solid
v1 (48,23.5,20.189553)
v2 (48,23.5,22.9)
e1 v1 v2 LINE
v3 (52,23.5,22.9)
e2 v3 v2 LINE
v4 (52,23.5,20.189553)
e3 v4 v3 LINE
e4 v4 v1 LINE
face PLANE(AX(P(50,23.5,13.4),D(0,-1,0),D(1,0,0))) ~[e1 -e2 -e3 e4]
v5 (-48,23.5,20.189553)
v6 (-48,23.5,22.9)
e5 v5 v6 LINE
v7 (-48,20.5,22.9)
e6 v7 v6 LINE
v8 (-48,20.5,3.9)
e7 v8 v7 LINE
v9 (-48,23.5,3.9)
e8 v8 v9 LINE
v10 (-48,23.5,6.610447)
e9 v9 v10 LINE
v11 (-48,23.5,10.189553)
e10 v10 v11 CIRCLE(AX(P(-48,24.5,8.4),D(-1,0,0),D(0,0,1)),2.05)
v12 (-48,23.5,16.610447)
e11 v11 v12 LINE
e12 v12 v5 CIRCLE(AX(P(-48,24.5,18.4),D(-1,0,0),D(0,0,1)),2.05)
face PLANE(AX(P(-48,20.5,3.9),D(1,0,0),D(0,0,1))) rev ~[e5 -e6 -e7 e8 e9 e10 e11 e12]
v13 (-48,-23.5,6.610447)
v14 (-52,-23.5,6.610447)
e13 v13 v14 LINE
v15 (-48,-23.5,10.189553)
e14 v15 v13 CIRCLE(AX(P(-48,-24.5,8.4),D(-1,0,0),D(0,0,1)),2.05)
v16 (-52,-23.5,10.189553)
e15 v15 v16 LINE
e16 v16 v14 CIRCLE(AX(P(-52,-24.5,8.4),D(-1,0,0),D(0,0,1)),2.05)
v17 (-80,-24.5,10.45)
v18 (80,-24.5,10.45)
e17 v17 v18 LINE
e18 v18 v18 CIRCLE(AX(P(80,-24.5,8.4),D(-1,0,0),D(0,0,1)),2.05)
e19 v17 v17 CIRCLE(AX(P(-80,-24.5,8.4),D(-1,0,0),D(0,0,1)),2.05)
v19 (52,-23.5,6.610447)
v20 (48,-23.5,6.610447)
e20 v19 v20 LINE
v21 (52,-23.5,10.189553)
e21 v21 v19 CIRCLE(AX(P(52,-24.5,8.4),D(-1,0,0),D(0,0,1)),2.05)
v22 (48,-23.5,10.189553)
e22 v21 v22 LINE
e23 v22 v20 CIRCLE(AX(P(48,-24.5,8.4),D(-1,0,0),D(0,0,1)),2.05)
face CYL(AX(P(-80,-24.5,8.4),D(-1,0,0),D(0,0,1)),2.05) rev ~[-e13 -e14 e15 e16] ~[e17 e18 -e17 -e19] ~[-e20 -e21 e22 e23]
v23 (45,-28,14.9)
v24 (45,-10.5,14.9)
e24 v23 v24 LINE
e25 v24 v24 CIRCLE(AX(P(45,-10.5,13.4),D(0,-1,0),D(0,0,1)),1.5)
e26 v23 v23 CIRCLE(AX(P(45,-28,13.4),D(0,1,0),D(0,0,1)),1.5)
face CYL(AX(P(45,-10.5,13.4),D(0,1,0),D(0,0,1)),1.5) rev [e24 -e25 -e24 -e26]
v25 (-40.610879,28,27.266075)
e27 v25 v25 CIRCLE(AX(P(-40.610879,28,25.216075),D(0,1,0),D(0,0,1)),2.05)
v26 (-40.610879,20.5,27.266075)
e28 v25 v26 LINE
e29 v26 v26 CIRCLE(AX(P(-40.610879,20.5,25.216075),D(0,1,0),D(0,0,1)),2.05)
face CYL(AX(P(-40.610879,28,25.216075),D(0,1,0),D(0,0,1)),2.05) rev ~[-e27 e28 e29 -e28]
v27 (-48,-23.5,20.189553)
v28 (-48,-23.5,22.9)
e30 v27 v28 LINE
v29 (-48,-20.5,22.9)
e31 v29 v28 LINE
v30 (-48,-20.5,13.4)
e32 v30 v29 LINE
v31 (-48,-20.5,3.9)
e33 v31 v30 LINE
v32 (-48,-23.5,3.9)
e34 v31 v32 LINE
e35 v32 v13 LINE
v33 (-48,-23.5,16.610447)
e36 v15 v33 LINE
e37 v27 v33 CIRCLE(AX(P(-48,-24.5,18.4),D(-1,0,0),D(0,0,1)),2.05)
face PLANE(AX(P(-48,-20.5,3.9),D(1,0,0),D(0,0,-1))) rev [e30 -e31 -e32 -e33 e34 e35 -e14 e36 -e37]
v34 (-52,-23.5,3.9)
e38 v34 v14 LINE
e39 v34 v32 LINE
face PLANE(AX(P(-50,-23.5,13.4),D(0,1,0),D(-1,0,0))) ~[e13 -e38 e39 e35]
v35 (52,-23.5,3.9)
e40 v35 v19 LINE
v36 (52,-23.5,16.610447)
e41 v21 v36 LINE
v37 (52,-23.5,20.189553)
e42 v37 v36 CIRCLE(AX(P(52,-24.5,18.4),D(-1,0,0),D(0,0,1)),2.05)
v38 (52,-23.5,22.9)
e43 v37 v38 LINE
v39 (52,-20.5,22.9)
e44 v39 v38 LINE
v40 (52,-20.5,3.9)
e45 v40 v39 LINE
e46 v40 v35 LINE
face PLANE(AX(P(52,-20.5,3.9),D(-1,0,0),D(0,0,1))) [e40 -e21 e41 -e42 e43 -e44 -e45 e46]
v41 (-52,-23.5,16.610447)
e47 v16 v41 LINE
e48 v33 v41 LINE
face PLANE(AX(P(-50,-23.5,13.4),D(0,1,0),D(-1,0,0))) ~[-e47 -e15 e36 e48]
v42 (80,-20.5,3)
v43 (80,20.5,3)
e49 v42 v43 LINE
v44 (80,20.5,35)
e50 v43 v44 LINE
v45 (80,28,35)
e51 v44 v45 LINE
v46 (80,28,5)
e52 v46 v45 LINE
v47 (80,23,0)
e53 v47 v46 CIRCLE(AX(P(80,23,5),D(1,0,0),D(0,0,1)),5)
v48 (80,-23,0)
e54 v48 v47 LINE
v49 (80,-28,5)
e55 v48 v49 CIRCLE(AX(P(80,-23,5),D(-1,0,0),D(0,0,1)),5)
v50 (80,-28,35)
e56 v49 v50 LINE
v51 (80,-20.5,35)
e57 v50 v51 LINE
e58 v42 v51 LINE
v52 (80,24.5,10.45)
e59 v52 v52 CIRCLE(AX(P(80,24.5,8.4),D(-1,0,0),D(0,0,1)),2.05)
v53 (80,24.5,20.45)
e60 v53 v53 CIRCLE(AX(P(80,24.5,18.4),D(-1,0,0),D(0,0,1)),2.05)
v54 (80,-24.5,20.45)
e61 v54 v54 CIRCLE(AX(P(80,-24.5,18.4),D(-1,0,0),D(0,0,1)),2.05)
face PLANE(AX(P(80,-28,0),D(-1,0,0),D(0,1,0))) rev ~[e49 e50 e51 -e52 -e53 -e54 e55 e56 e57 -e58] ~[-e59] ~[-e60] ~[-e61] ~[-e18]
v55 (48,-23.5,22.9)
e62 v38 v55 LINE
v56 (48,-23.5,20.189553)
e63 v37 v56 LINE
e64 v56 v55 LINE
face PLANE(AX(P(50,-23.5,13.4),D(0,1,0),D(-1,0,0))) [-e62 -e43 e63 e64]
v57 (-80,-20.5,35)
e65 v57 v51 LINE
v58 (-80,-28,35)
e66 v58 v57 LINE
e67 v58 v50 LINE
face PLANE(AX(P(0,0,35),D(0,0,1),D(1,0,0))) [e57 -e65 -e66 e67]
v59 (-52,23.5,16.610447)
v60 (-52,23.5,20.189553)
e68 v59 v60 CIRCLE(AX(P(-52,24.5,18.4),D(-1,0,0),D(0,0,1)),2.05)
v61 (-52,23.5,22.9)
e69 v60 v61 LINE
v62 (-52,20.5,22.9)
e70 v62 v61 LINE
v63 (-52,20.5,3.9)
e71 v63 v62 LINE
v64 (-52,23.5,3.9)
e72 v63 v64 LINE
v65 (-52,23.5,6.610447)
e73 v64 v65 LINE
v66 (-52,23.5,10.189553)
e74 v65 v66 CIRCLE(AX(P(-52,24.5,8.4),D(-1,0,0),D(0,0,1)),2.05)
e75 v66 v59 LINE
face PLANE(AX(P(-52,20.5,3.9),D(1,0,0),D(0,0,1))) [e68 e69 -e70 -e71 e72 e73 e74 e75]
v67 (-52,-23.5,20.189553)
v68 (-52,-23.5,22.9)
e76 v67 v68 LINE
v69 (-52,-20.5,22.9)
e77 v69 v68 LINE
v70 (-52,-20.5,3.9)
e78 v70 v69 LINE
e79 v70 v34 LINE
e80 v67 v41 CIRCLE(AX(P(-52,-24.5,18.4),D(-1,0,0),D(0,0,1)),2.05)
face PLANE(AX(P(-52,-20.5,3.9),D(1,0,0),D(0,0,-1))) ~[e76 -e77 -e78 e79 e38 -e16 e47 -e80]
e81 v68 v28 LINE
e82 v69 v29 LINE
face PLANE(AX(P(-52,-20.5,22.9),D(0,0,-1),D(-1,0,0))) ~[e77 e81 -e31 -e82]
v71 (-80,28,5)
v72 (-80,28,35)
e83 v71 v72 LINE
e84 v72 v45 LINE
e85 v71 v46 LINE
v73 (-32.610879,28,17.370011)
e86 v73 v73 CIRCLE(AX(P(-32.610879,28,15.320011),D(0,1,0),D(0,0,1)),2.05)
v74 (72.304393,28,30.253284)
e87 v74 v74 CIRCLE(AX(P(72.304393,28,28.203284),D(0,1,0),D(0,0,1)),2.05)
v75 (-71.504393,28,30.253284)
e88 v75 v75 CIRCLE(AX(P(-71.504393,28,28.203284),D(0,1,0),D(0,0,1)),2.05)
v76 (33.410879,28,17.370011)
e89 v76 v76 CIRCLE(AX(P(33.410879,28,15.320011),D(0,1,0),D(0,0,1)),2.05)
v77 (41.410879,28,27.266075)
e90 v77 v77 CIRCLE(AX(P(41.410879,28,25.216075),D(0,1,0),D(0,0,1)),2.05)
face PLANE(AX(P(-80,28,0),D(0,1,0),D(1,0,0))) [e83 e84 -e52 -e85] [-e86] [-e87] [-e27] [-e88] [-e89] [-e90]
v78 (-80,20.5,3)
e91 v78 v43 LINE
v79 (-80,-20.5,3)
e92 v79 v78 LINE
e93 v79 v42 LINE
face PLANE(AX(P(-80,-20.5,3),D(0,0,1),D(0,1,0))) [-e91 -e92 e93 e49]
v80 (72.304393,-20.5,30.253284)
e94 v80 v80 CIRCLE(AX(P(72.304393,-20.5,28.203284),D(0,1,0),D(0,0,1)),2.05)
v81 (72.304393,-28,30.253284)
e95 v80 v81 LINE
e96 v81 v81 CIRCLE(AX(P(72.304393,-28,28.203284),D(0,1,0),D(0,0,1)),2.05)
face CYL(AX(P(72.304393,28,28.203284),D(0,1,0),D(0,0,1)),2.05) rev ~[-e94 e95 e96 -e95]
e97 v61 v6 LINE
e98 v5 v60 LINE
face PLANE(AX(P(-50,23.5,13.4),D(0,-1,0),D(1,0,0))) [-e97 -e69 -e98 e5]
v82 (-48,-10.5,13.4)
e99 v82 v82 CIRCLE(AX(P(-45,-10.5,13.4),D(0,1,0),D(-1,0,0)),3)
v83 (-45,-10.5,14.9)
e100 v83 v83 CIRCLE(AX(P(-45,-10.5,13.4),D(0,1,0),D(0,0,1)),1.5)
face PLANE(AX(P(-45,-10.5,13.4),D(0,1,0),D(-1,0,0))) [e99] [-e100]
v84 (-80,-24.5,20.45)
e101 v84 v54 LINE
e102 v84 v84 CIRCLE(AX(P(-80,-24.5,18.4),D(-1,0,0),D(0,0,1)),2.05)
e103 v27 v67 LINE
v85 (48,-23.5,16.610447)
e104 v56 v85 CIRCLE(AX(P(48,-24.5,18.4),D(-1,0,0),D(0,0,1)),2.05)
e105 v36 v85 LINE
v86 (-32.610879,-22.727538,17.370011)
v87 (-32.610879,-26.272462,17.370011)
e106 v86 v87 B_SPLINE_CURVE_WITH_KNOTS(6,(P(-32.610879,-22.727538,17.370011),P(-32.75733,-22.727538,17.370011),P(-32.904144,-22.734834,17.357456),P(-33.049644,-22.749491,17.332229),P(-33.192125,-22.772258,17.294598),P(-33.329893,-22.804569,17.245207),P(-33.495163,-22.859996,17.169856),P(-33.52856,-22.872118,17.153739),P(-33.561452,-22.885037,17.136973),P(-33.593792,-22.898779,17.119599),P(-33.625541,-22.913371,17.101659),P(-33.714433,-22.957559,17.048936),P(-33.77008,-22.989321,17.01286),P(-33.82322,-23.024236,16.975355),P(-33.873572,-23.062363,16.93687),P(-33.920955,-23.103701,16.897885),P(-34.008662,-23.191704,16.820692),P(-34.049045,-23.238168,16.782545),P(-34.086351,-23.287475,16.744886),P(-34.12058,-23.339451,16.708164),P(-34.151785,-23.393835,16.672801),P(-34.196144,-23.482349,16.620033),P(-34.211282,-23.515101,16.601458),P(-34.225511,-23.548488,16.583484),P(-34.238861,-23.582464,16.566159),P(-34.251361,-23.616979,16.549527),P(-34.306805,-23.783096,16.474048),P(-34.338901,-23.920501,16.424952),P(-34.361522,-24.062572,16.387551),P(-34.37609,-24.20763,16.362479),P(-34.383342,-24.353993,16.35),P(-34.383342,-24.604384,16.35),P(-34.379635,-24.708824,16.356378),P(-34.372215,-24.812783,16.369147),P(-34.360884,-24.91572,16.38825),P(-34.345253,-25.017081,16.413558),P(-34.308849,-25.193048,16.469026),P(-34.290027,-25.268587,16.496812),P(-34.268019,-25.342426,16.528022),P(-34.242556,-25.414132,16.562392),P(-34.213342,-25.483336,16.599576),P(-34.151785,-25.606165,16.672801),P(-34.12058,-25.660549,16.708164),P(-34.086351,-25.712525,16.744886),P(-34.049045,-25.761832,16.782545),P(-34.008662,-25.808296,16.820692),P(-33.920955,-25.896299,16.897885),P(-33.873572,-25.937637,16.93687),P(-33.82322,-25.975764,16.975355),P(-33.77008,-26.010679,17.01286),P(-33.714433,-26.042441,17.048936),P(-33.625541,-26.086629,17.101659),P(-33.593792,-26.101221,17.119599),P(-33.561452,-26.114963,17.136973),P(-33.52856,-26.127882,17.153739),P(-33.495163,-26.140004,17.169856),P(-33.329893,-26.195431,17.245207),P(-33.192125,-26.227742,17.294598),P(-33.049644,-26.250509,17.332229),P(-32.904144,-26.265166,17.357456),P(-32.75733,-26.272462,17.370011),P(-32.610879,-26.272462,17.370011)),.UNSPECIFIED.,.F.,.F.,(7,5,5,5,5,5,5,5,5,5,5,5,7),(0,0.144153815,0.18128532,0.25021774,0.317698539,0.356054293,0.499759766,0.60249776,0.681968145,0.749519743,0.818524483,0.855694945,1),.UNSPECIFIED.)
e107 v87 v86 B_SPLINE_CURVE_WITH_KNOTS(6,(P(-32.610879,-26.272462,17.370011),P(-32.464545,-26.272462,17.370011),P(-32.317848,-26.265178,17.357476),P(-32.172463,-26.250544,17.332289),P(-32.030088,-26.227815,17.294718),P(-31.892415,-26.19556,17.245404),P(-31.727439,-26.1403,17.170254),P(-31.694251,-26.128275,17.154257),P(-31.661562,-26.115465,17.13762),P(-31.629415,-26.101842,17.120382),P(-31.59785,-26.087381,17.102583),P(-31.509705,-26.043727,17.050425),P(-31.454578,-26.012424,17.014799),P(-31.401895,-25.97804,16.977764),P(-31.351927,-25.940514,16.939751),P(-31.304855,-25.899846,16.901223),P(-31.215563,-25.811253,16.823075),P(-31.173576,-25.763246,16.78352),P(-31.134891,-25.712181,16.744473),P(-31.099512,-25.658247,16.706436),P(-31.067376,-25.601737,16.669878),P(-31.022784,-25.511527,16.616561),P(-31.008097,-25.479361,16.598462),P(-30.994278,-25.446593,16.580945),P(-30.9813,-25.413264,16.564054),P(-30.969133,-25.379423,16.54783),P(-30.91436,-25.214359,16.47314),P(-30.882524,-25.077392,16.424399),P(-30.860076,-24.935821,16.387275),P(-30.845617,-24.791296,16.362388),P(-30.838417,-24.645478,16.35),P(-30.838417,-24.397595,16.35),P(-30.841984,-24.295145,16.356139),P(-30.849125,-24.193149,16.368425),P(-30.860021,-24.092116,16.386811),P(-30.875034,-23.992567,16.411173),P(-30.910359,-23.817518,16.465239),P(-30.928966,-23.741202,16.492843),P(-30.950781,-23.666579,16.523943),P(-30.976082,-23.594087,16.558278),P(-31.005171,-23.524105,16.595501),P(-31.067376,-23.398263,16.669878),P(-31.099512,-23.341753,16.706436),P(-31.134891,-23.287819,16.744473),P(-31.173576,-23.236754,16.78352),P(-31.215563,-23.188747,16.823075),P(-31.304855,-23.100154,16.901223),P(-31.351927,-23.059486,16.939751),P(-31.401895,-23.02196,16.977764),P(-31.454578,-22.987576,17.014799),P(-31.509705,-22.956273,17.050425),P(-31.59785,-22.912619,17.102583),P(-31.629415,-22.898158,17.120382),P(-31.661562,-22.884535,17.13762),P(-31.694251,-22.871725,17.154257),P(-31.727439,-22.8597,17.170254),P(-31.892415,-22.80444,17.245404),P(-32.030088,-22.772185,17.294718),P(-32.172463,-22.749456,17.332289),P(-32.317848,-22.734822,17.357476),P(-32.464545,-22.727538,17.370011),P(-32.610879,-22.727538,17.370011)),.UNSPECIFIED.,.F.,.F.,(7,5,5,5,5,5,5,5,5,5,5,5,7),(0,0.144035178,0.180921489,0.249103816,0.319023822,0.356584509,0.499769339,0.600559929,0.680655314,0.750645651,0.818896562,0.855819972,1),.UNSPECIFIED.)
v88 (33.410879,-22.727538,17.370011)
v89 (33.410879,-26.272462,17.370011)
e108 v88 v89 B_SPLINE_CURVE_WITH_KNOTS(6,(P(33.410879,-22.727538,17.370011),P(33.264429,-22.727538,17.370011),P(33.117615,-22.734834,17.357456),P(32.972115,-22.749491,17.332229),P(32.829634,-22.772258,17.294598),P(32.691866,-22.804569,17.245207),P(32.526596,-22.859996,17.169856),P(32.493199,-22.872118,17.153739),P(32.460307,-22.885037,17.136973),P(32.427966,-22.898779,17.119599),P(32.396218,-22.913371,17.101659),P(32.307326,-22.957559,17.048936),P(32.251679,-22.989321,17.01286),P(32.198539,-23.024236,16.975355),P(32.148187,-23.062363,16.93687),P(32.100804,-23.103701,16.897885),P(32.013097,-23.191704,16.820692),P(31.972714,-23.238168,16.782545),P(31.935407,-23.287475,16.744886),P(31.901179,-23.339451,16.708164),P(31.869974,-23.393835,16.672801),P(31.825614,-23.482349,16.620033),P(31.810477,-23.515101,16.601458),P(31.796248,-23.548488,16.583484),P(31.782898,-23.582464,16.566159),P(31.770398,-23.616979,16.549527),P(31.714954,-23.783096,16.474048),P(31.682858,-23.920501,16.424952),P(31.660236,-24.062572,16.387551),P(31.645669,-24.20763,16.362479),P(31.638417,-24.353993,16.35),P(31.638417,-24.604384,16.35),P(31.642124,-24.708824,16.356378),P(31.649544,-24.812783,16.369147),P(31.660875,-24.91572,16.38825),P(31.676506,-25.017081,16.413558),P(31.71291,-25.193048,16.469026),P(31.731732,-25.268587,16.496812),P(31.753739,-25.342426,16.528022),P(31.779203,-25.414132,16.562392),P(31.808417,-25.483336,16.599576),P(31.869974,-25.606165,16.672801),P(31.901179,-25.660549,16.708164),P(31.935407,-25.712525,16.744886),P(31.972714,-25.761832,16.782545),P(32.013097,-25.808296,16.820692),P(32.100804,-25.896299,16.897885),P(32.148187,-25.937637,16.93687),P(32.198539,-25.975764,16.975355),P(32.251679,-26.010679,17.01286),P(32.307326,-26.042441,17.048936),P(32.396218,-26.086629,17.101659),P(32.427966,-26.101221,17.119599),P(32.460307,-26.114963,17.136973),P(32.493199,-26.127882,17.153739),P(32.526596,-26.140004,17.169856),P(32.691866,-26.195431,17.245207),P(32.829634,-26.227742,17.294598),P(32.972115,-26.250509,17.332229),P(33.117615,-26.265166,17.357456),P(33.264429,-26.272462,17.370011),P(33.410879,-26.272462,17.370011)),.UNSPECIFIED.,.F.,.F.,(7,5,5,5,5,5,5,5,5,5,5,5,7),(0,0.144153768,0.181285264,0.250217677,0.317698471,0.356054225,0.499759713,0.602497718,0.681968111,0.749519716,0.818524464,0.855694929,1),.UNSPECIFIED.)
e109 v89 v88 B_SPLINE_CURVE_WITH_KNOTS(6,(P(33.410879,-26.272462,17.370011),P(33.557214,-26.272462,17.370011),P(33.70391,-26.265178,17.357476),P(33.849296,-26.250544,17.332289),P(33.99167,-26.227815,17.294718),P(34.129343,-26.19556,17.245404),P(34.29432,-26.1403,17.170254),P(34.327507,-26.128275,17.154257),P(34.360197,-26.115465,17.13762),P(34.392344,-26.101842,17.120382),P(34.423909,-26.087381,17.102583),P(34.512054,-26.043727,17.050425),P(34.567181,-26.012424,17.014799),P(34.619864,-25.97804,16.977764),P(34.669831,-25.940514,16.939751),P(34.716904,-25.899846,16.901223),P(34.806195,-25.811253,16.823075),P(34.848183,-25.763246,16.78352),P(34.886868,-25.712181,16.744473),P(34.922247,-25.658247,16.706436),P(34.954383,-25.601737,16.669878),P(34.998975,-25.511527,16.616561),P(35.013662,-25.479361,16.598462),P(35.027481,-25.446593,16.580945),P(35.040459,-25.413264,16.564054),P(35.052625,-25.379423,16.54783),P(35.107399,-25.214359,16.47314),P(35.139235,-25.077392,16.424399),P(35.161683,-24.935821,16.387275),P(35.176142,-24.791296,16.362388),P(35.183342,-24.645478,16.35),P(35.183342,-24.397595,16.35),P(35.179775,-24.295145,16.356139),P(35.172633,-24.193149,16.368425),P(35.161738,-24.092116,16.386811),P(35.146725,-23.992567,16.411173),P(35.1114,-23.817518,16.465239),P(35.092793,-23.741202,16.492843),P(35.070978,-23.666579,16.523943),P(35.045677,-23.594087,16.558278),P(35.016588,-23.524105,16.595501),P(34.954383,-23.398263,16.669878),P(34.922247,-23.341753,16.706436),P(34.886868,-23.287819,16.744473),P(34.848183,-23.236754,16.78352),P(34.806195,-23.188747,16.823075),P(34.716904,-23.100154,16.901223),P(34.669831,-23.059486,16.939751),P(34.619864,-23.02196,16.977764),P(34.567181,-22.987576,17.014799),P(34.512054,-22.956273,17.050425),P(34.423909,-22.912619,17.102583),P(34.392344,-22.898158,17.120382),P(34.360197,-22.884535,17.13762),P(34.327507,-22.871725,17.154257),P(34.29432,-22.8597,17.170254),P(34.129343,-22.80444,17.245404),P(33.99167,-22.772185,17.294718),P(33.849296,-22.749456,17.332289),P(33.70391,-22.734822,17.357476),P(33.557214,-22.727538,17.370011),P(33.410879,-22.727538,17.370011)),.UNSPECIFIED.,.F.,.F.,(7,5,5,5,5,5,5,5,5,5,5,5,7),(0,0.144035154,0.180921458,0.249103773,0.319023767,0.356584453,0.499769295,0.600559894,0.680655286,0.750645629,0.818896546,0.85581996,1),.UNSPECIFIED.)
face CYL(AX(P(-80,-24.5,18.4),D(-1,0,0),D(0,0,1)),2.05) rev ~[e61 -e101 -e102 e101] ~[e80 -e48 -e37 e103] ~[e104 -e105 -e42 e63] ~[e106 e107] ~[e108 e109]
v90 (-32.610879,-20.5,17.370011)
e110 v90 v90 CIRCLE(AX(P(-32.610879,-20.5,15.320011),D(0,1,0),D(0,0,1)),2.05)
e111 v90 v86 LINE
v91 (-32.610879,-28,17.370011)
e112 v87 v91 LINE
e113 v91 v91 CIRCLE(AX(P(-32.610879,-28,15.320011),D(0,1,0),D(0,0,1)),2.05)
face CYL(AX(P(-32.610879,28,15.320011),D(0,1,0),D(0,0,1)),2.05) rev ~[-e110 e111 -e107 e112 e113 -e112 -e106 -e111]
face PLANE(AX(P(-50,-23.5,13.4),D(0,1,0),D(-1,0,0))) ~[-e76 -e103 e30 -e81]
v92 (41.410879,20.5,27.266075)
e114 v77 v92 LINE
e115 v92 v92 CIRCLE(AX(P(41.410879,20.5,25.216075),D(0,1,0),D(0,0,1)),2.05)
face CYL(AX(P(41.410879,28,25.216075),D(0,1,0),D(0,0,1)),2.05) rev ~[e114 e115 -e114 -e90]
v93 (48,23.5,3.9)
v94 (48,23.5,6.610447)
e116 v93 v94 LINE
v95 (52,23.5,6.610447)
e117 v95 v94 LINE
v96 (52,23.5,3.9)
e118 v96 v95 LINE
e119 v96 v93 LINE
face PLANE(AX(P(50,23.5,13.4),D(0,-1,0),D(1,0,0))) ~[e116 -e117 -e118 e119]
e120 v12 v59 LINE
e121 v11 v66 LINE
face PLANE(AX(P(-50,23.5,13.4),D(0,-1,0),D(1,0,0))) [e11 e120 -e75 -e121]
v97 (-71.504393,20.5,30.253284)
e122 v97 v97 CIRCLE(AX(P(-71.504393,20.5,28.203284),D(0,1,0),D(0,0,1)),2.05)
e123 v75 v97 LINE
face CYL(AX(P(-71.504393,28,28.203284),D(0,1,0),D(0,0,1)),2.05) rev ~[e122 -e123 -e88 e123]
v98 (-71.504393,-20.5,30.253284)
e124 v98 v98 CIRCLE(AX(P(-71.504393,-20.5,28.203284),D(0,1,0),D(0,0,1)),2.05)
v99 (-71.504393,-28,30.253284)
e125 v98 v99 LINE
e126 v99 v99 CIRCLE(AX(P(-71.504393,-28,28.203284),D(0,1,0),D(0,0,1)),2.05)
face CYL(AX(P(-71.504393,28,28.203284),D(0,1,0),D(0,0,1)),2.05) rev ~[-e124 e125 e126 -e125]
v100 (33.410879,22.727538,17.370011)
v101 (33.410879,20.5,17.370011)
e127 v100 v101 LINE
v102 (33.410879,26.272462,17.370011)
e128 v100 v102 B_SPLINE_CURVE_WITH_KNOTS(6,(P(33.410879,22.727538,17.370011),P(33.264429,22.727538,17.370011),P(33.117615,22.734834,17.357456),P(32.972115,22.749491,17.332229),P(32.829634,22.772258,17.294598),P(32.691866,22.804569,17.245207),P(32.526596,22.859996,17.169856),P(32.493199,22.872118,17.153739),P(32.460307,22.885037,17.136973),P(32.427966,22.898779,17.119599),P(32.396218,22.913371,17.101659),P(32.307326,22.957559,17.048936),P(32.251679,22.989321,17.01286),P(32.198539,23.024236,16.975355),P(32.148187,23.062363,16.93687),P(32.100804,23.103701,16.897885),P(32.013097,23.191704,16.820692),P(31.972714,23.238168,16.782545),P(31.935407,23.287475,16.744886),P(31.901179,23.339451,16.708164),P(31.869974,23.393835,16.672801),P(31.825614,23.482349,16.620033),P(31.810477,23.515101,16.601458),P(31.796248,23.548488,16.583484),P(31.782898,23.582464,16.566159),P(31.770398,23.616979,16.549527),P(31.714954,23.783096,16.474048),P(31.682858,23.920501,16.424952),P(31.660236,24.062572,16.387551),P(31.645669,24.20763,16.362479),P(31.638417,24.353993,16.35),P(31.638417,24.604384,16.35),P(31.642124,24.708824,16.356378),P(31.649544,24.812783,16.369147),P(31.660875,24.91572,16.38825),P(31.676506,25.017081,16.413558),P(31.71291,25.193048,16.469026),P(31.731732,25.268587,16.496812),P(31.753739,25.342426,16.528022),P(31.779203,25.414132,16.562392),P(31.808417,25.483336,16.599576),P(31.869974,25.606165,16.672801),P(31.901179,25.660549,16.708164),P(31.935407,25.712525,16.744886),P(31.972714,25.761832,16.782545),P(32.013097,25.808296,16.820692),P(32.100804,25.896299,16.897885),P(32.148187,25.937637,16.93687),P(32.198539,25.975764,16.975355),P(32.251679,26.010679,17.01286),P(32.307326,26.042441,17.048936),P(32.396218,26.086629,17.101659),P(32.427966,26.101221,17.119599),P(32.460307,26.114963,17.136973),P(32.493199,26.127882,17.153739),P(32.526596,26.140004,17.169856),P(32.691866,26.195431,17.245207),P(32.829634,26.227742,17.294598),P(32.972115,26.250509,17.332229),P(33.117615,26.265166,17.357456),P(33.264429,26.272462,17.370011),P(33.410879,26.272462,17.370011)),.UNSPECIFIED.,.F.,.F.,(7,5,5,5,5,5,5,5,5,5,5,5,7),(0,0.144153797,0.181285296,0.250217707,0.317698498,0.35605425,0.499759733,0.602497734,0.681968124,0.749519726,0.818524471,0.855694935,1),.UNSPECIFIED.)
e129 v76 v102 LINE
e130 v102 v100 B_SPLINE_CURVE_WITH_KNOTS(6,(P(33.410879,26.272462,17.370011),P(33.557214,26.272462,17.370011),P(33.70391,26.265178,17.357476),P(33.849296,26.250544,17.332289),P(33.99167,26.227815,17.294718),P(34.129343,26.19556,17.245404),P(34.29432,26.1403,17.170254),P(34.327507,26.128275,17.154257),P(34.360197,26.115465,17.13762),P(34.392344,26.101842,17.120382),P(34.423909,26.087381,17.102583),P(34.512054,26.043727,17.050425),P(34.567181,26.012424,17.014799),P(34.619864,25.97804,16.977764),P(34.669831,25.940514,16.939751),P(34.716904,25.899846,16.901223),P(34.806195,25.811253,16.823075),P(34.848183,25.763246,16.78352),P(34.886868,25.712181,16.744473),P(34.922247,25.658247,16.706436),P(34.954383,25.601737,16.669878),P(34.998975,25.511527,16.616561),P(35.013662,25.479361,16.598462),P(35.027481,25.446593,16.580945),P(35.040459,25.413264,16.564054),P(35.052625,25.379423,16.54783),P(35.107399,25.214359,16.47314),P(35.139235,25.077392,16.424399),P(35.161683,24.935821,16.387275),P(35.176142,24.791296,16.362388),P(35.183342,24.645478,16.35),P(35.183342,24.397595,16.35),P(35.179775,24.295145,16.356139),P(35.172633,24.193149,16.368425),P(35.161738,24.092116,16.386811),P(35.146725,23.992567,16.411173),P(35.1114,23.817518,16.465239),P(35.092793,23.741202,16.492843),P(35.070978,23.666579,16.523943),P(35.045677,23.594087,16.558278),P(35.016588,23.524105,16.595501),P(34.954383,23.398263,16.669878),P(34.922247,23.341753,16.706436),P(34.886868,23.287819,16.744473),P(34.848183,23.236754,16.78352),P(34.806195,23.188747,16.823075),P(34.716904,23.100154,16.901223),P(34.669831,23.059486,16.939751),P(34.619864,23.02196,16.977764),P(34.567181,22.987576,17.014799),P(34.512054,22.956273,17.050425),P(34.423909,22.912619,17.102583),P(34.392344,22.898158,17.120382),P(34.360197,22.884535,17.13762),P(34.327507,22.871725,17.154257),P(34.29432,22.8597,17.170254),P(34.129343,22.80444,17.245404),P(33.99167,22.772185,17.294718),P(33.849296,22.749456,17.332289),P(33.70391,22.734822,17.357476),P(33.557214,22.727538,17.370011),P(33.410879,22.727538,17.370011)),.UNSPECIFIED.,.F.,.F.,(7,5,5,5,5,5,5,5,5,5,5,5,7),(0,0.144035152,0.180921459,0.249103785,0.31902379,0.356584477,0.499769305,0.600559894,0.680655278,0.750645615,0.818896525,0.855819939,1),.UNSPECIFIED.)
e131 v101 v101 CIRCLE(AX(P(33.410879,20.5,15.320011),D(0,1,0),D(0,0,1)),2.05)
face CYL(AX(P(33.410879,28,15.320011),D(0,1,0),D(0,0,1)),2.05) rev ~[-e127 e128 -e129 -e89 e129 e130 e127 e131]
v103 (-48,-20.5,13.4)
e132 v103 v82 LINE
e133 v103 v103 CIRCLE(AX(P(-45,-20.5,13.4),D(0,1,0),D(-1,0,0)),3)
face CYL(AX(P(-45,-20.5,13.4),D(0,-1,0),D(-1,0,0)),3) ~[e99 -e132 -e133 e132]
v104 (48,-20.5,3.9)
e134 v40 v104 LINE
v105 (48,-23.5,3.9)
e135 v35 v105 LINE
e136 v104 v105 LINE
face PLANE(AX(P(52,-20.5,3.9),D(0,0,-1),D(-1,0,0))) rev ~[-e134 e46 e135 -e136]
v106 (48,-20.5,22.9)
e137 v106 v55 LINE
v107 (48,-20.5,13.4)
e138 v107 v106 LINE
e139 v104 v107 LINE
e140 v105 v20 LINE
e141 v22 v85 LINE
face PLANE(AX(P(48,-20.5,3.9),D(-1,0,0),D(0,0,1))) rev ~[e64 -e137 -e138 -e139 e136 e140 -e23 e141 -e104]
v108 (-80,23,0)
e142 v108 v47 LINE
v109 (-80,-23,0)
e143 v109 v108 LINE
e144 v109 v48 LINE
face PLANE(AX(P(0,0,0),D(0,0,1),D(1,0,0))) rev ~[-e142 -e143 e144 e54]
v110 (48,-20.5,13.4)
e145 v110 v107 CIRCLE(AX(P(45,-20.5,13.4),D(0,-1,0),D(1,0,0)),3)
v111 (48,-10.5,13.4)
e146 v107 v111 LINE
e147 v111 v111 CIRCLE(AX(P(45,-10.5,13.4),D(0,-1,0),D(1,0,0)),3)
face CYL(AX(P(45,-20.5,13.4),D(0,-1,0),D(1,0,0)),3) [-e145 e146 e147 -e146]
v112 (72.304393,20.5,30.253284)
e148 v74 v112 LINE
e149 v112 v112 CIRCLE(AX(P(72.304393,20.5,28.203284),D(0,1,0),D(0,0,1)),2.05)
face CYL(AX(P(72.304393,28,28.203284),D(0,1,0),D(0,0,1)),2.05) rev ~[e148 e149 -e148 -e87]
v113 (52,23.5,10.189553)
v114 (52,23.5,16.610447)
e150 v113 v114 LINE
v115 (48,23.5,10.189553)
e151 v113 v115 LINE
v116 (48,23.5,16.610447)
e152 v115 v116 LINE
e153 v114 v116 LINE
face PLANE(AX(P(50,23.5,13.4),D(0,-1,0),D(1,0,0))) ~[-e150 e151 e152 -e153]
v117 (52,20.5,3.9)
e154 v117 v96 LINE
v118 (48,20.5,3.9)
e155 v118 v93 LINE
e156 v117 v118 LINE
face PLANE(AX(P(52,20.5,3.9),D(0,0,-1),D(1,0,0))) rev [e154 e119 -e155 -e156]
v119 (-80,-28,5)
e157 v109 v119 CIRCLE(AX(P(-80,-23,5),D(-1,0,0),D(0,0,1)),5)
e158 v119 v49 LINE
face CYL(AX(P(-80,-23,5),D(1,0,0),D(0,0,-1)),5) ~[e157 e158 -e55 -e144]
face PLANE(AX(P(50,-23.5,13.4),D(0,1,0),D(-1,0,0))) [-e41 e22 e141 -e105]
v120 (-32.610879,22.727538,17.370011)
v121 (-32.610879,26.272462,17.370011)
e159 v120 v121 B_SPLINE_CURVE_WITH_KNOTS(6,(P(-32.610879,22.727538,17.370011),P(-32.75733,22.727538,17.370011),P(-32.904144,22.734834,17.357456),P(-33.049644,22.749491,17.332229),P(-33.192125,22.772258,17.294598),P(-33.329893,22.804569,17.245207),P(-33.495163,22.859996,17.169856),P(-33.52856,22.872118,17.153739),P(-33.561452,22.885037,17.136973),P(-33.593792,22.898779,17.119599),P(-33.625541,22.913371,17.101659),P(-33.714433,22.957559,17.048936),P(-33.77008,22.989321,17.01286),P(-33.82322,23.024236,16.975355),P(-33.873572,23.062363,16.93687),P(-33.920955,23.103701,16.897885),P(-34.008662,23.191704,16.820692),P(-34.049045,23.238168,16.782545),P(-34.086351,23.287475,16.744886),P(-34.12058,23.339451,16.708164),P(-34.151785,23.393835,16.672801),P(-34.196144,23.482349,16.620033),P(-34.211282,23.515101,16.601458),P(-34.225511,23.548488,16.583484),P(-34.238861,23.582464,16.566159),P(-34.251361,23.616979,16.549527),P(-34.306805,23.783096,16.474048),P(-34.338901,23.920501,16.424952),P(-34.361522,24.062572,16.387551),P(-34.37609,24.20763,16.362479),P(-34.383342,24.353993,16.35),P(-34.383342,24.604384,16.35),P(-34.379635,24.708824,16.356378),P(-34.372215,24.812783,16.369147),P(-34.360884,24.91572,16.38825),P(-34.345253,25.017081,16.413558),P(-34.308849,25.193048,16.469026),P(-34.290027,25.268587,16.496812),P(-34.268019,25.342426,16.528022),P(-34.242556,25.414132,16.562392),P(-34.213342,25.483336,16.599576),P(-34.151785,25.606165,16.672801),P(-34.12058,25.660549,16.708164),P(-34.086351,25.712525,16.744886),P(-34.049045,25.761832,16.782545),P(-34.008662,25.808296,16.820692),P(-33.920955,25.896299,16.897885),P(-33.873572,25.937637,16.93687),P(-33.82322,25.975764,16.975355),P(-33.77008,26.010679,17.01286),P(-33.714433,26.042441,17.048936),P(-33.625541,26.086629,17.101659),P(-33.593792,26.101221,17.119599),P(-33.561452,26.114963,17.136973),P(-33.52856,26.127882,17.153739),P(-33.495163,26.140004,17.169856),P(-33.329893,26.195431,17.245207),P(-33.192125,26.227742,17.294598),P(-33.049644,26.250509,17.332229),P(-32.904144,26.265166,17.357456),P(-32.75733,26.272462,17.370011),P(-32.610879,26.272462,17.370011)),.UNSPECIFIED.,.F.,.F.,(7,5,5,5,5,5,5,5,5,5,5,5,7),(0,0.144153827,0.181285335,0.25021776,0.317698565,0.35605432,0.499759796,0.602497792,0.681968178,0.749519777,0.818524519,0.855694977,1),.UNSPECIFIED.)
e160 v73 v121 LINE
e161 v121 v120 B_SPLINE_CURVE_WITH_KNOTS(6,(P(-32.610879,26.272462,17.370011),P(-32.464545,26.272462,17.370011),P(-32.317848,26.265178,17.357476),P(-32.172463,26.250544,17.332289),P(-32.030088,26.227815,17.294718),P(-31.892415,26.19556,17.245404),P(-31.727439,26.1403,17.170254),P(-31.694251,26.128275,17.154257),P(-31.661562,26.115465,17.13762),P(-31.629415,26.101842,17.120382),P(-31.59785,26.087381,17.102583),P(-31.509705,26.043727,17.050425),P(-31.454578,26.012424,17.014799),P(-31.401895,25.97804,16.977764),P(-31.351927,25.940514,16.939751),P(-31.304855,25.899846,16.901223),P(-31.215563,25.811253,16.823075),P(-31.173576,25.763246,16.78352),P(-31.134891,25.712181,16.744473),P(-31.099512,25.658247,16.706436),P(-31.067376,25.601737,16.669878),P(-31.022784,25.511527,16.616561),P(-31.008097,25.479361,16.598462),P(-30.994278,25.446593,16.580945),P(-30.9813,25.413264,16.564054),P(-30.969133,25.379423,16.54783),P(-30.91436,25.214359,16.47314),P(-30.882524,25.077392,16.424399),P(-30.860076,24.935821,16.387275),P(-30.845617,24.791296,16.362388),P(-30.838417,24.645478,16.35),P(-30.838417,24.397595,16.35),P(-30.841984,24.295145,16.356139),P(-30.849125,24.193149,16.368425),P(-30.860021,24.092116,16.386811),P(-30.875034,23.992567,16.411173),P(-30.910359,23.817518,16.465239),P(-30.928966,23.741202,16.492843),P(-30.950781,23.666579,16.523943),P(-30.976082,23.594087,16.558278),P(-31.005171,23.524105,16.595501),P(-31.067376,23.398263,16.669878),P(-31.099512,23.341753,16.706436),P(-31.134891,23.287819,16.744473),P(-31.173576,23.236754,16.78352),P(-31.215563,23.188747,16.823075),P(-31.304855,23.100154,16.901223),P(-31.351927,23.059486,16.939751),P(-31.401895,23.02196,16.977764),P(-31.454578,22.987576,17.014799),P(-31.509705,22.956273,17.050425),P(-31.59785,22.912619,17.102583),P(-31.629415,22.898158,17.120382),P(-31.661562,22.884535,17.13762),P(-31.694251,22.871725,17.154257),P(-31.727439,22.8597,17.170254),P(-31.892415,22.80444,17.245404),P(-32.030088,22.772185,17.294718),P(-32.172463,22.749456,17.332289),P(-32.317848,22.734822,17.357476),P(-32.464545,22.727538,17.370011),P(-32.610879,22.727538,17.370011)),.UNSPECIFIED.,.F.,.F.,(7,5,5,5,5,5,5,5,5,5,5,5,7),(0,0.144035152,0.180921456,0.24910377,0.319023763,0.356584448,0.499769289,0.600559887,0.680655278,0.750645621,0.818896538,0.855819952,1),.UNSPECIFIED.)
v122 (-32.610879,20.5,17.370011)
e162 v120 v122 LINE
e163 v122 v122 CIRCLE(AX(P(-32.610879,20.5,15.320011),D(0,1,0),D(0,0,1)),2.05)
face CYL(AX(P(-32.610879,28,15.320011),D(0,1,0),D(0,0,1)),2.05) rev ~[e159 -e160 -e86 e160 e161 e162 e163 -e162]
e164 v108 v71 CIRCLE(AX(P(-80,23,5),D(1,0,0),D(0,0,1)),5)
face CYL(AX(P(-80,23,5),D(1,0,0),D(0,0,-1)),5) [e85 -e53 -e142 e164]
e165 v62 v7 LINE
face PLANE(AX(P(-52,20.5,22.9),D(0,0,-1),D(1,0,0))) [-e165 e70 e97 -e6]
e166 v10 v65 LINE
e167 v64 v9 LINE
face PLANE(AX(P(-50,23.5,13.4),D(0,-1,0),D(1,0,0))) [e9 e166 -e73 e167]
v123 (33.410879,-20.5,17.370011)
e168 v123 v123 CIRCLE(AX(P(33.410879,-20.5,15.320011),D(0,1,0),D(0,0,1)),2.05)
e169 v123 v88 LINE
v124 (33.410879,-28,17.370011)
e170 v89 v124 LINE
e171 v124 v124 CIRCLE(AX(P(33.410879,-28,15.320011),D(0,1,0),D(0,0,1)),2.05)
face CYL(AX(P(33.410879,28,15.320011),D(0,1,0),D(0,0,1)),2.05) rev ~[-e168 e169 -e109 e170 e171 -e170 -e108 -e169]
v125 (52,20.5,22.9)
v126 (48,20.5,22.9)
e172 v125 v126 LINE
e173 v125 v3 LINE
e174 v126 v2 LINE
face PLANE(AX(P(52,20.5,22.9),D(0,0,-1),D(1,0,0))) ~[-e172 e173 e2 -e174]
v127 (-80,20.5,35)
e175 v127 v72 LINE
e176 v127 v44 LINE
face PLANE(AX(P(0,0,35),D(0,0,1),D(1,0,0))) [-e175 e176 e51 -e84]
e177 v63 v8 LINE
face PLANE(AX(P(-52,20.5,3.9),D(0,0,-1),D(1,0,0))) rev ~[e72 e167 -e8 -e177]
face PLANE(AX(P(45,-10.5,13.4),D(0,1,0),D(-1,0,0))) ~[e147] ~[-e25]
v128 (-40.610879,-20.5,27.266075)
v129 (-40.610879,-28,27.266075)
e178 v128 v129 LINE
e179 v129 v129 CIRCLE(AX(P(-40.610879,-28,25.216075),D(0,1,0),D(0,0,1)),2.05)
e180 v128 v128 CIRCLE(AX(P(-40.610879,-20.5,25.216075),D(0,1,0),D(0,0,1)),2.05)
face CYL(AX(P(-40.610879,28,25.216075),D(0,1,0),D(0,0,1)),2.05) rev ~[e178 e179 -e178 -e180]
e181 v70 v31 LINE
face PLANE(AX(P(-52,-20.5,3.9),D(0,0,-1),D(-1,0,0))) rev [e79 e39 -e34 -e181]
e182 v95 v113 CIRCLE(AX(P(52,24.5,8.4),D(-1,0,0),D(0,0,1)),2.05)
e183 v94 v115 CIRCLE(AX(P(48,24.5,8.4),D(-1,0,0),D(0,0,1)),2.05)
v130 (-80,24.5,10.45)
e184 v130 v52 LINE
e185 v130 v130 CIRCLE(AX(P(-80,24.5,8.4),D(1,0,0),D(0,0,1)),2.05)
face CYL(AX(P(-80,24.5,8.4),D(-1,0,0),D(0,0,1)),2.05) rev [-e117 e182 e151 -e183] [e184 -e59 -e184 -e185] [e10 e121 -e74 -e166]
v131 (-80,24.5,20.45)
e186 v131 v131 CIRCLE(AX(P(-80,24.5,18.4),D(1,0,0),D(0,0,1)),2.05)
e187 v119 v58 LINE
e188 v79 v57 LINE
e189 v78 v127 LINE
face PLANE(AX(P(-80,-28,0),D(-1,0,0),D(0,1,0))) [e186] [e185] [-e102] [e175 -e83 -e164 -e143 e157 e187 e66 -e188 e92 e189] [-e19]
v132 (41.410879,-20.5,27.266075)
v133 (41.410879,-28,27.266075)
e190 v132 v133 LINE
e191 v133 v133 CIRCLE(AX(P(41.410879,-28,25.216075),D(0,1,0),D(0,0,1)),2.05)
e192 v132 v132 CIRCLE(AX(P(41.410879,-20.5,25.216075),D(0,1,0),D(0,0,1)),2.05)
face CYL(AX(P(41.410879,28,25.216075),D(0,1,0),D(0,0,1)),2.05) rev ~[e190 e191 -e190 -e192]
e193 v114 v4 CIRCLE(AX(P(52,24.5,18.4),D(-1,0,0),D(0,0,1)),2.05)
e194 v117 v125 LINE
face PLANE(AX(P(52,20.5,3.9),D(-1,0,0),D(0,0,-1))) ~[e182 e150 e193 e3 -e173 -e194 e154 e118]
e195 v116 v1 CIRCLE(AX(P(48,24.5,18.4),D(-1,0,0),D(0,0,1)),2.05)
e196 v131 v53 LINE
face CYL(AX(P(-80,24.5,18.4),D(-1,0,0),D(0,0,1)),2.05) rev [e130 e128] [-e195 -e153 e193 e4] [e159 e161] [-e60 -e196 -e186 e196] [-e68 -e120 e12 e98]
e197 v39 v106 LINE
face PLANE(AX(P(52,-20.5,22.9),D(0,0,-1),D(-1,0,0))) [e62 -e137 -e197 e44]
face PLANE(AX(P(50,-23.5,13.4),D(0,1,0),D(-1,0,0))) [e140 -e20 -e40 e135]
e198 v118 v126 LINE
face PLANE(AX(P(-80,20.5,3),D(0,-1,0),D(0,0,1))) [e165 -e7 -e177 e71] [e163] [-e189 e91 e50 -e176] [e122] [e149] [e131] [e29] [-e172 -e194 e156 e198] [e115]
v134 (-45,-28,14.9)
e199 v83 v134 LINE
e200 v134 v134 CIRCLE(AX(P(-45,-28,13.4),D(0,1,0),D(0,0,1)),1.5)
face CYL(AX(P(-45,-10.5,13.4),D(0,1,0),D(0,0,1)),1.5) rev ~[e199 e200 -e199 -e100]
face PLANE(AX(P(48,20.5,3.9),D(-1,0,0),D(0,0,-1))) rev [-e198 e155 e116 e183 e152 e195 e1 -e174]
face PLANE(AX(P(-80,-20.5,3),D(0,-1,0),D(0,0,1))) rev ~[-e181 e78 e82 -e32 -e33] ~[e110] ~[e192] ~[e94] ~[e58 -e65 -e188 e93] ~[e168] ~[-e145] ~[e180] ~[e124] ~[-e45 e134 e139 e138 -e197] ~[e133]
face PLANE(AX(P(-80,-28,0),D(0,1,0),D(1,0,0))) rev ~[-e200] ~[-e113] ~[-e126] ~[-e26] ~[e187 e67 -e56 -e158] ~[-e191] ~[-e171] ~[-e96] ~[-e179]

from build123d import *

# Parameters (mm, degrees)
SKETCH1_W               = 160
SKETCH1_H               = 56
BOSS_EXTRUDE1_DEPTH     = 35
SKETCH2_W               = 32
SKETCH2_H               = 41
CUT_EXTRUDE1_DEPTH      = 167.159561868
FILLET1_R               = 5
SKETCH6_W               = 4
SKETCH6_H               = 19
CUT_EXTRUDE4_DEPTH      = 3
MIRROR4_COPY_1_SKETCH_W = 4
MIRROR4_COPY_1_SKETCH_H = 19
MIRROR4_COPY_1_DEPTH    = 3
SKETCH8_R               = 2.05
CUT_EXTRUDE6_DEPTH      = 167.159561868
SKETCH9_R               = 2.05
CUT_EXTRUDE7_DEPTH      = 104.735239914
SKETCH10_R              = 3
SKETCH10_R_2            = 1.5
BOSS_EXTRUDE3_DEPTH     = 10
SKETCH13_R              = 1.5
CUT_EXTRUDE9_DEPTH      = 96.431913025


with BuildPart() as part:
    # Sketch1 → Boss-Extrude1 (new body)
    with BuildSketch(Plane.XY):
        Rectangle(SKETCH1_W, SKETCH1_H)
    extrude(amount=BOSS_EXTRUDE1_DEPTH)

    # Sketch2 → Cut-Extrude1 (cut, through all)
    with BuildSketch(Plane.ZY.offset(80)):
        with Locations((19, 0)):
            Rectangle(SKETCH2_W, SKETCH2_H)
    extrude(amount=-CUT_EXTRUDE1_DEPTH, mode=Mode.SUBTRACT)

    # Fillet1
    fillet1_edges = [part.edges().sort_by_distance(p)[0] for p in [
        (0, -28, 0),
        (0, 28, 0),
    ]]
    fillet(fillet1_edges, radius=FILLET1_R)

    # Sketch6 → Cut-Extrude4 (cut)
    with BuildSketch(Plane.XZ.offset(-20.5)):
        with Locations((-50, 13.4)):
            Rectangle(SKETCH6_W, SKETCH6_H)
    cut_extrude4 = extrude(amount=-CUT_EXTRUDE4_DEPTH, mode=Mode.SUBTRACT)

    # Mirror3: Cut-Extrude4 across plane
    add(cut_extrude4.mirror(Plane.ZY), mode=Mode.SUBTRACT)

    # Mirror4: Cut-Extrude4 across plane
    add(cut_extrude4.mirror(Plane.ZX), mode=Mode.SUBTRACT)

    # Mirror4 copy 1 sketch → Mirror4 copy 1 (cut)
    with BuildSketch(Plane(origin=(0, -20.5, 0), x_dir=(-1, 0, 0), z_dir=(0, 1, 0))):
        with Locations((-50, 13.4)):
            Rectangle(MIRROR4_COPY_1_SKETCH_W, MIRROR4_COPY_1_SKETCH_H)
    extrude(amount=-MIRROR4_COPY_1_DEPTH, mode=Mode.SUBTRACT)

    # Sketch8 → Cut-Extrude6 (cut, through all)
    with BuildSketch(Plane.ZY.offset(80)):
        with Locations((18.4, -24.5)):
            Circle(SKETCH8_R)
        with Locations((8.4, -24.5)):
            Circle(SKETCH8_R)
    cut_extrude6 = extrude(amount=-CUT_EXTRUDE6_DEPTH, mode=Mode.SUBTRACT)

    # Mirror5: Cut-Extrude6 across plane
    add(cut_extrude6.mirror(Plane.ZX), mode=Mode.SUBTRACT)

    # Sketch9 → Cut-Extrude7 (cut, through all)
    with BuildSketch(Plane(origin=(0, 28, 0), x_dir=(1, 0, 0), z_dir=(0, 1, 0))):
        with Locations(Location((41.410879364, -25.216075278, 0), (0, 0, 270))):
            Circle(SKETCH9_R)
        with Locations(Location((33.410879423, -15.320010713, 0), (0, 0, 270))):
            Circle(SKETCH9_R)
        with Locations(Location((72.304393308, -28.203284125, 0), (0, 0, 270))):
            Circle(SKETCH9_R)
        with Locations(Location((-32.610879423, -15.320010713, 0), (0, 0, 270))):
            Circle(SKETCH9_R)
        with Locations(Location((-40.610879364, -25.216075278, 0), (0, 0, 270))):
            Circle(SKETCH9_R)
        with Locations(Location((-71.504393308, -28.203284125, 0), (0, 0, 270))):
            Circle(SKETCH9_R)
    extrude(amount=-CUT_EXTRUDE7_DEPTH, mode=Mode.SUBTRACT)

    # Sketch10 → Boss-Extrude3 (add)
    with BuildSketch(Plane(origin=(0, -20.5, 0), x_dir=(1, 0, 0), z_dir=(0, 1, 0))):
        with Locations(Location((-45, -13.4, 0), (0, 0, 180))):
            Circle(SKETCH10_R)
        with Locations(Location((-45, -13.4, 0), (0, 0, 270))):
            Circle(SKETCH10_R_2, mode=Mode.SUBTRACT)
    boss_extrude3 = extrude(amount=BOSS_EXTRUDE3_DEPTH)

    # Sketch13 → Cut-Extrude9 (cut, through all)
    with BuildSketch(Plane(origin=(0, -10.5, 0), x_dir=(1, 0, 0), z_dir=(0, 1, 0))):
        with Locations(Location((-45, -13.4, 0), (0, 0, 270))):
            Circle(SKETCH13_R)
    cut_extrude9 = extrude(amount=-CUT_EXTRUDE9_DEPTH, mode=Mode.SUBTRACT)

    # Mirror6: Boss-Extrude3, Cut-Extrude9 across plane
    add(boss_extrude3.mirror(Plane.ZY))
    add(cut_extrude9.mirror(Plane.ZY), mode=Mode.SUBTRACT)


solid = part.part
